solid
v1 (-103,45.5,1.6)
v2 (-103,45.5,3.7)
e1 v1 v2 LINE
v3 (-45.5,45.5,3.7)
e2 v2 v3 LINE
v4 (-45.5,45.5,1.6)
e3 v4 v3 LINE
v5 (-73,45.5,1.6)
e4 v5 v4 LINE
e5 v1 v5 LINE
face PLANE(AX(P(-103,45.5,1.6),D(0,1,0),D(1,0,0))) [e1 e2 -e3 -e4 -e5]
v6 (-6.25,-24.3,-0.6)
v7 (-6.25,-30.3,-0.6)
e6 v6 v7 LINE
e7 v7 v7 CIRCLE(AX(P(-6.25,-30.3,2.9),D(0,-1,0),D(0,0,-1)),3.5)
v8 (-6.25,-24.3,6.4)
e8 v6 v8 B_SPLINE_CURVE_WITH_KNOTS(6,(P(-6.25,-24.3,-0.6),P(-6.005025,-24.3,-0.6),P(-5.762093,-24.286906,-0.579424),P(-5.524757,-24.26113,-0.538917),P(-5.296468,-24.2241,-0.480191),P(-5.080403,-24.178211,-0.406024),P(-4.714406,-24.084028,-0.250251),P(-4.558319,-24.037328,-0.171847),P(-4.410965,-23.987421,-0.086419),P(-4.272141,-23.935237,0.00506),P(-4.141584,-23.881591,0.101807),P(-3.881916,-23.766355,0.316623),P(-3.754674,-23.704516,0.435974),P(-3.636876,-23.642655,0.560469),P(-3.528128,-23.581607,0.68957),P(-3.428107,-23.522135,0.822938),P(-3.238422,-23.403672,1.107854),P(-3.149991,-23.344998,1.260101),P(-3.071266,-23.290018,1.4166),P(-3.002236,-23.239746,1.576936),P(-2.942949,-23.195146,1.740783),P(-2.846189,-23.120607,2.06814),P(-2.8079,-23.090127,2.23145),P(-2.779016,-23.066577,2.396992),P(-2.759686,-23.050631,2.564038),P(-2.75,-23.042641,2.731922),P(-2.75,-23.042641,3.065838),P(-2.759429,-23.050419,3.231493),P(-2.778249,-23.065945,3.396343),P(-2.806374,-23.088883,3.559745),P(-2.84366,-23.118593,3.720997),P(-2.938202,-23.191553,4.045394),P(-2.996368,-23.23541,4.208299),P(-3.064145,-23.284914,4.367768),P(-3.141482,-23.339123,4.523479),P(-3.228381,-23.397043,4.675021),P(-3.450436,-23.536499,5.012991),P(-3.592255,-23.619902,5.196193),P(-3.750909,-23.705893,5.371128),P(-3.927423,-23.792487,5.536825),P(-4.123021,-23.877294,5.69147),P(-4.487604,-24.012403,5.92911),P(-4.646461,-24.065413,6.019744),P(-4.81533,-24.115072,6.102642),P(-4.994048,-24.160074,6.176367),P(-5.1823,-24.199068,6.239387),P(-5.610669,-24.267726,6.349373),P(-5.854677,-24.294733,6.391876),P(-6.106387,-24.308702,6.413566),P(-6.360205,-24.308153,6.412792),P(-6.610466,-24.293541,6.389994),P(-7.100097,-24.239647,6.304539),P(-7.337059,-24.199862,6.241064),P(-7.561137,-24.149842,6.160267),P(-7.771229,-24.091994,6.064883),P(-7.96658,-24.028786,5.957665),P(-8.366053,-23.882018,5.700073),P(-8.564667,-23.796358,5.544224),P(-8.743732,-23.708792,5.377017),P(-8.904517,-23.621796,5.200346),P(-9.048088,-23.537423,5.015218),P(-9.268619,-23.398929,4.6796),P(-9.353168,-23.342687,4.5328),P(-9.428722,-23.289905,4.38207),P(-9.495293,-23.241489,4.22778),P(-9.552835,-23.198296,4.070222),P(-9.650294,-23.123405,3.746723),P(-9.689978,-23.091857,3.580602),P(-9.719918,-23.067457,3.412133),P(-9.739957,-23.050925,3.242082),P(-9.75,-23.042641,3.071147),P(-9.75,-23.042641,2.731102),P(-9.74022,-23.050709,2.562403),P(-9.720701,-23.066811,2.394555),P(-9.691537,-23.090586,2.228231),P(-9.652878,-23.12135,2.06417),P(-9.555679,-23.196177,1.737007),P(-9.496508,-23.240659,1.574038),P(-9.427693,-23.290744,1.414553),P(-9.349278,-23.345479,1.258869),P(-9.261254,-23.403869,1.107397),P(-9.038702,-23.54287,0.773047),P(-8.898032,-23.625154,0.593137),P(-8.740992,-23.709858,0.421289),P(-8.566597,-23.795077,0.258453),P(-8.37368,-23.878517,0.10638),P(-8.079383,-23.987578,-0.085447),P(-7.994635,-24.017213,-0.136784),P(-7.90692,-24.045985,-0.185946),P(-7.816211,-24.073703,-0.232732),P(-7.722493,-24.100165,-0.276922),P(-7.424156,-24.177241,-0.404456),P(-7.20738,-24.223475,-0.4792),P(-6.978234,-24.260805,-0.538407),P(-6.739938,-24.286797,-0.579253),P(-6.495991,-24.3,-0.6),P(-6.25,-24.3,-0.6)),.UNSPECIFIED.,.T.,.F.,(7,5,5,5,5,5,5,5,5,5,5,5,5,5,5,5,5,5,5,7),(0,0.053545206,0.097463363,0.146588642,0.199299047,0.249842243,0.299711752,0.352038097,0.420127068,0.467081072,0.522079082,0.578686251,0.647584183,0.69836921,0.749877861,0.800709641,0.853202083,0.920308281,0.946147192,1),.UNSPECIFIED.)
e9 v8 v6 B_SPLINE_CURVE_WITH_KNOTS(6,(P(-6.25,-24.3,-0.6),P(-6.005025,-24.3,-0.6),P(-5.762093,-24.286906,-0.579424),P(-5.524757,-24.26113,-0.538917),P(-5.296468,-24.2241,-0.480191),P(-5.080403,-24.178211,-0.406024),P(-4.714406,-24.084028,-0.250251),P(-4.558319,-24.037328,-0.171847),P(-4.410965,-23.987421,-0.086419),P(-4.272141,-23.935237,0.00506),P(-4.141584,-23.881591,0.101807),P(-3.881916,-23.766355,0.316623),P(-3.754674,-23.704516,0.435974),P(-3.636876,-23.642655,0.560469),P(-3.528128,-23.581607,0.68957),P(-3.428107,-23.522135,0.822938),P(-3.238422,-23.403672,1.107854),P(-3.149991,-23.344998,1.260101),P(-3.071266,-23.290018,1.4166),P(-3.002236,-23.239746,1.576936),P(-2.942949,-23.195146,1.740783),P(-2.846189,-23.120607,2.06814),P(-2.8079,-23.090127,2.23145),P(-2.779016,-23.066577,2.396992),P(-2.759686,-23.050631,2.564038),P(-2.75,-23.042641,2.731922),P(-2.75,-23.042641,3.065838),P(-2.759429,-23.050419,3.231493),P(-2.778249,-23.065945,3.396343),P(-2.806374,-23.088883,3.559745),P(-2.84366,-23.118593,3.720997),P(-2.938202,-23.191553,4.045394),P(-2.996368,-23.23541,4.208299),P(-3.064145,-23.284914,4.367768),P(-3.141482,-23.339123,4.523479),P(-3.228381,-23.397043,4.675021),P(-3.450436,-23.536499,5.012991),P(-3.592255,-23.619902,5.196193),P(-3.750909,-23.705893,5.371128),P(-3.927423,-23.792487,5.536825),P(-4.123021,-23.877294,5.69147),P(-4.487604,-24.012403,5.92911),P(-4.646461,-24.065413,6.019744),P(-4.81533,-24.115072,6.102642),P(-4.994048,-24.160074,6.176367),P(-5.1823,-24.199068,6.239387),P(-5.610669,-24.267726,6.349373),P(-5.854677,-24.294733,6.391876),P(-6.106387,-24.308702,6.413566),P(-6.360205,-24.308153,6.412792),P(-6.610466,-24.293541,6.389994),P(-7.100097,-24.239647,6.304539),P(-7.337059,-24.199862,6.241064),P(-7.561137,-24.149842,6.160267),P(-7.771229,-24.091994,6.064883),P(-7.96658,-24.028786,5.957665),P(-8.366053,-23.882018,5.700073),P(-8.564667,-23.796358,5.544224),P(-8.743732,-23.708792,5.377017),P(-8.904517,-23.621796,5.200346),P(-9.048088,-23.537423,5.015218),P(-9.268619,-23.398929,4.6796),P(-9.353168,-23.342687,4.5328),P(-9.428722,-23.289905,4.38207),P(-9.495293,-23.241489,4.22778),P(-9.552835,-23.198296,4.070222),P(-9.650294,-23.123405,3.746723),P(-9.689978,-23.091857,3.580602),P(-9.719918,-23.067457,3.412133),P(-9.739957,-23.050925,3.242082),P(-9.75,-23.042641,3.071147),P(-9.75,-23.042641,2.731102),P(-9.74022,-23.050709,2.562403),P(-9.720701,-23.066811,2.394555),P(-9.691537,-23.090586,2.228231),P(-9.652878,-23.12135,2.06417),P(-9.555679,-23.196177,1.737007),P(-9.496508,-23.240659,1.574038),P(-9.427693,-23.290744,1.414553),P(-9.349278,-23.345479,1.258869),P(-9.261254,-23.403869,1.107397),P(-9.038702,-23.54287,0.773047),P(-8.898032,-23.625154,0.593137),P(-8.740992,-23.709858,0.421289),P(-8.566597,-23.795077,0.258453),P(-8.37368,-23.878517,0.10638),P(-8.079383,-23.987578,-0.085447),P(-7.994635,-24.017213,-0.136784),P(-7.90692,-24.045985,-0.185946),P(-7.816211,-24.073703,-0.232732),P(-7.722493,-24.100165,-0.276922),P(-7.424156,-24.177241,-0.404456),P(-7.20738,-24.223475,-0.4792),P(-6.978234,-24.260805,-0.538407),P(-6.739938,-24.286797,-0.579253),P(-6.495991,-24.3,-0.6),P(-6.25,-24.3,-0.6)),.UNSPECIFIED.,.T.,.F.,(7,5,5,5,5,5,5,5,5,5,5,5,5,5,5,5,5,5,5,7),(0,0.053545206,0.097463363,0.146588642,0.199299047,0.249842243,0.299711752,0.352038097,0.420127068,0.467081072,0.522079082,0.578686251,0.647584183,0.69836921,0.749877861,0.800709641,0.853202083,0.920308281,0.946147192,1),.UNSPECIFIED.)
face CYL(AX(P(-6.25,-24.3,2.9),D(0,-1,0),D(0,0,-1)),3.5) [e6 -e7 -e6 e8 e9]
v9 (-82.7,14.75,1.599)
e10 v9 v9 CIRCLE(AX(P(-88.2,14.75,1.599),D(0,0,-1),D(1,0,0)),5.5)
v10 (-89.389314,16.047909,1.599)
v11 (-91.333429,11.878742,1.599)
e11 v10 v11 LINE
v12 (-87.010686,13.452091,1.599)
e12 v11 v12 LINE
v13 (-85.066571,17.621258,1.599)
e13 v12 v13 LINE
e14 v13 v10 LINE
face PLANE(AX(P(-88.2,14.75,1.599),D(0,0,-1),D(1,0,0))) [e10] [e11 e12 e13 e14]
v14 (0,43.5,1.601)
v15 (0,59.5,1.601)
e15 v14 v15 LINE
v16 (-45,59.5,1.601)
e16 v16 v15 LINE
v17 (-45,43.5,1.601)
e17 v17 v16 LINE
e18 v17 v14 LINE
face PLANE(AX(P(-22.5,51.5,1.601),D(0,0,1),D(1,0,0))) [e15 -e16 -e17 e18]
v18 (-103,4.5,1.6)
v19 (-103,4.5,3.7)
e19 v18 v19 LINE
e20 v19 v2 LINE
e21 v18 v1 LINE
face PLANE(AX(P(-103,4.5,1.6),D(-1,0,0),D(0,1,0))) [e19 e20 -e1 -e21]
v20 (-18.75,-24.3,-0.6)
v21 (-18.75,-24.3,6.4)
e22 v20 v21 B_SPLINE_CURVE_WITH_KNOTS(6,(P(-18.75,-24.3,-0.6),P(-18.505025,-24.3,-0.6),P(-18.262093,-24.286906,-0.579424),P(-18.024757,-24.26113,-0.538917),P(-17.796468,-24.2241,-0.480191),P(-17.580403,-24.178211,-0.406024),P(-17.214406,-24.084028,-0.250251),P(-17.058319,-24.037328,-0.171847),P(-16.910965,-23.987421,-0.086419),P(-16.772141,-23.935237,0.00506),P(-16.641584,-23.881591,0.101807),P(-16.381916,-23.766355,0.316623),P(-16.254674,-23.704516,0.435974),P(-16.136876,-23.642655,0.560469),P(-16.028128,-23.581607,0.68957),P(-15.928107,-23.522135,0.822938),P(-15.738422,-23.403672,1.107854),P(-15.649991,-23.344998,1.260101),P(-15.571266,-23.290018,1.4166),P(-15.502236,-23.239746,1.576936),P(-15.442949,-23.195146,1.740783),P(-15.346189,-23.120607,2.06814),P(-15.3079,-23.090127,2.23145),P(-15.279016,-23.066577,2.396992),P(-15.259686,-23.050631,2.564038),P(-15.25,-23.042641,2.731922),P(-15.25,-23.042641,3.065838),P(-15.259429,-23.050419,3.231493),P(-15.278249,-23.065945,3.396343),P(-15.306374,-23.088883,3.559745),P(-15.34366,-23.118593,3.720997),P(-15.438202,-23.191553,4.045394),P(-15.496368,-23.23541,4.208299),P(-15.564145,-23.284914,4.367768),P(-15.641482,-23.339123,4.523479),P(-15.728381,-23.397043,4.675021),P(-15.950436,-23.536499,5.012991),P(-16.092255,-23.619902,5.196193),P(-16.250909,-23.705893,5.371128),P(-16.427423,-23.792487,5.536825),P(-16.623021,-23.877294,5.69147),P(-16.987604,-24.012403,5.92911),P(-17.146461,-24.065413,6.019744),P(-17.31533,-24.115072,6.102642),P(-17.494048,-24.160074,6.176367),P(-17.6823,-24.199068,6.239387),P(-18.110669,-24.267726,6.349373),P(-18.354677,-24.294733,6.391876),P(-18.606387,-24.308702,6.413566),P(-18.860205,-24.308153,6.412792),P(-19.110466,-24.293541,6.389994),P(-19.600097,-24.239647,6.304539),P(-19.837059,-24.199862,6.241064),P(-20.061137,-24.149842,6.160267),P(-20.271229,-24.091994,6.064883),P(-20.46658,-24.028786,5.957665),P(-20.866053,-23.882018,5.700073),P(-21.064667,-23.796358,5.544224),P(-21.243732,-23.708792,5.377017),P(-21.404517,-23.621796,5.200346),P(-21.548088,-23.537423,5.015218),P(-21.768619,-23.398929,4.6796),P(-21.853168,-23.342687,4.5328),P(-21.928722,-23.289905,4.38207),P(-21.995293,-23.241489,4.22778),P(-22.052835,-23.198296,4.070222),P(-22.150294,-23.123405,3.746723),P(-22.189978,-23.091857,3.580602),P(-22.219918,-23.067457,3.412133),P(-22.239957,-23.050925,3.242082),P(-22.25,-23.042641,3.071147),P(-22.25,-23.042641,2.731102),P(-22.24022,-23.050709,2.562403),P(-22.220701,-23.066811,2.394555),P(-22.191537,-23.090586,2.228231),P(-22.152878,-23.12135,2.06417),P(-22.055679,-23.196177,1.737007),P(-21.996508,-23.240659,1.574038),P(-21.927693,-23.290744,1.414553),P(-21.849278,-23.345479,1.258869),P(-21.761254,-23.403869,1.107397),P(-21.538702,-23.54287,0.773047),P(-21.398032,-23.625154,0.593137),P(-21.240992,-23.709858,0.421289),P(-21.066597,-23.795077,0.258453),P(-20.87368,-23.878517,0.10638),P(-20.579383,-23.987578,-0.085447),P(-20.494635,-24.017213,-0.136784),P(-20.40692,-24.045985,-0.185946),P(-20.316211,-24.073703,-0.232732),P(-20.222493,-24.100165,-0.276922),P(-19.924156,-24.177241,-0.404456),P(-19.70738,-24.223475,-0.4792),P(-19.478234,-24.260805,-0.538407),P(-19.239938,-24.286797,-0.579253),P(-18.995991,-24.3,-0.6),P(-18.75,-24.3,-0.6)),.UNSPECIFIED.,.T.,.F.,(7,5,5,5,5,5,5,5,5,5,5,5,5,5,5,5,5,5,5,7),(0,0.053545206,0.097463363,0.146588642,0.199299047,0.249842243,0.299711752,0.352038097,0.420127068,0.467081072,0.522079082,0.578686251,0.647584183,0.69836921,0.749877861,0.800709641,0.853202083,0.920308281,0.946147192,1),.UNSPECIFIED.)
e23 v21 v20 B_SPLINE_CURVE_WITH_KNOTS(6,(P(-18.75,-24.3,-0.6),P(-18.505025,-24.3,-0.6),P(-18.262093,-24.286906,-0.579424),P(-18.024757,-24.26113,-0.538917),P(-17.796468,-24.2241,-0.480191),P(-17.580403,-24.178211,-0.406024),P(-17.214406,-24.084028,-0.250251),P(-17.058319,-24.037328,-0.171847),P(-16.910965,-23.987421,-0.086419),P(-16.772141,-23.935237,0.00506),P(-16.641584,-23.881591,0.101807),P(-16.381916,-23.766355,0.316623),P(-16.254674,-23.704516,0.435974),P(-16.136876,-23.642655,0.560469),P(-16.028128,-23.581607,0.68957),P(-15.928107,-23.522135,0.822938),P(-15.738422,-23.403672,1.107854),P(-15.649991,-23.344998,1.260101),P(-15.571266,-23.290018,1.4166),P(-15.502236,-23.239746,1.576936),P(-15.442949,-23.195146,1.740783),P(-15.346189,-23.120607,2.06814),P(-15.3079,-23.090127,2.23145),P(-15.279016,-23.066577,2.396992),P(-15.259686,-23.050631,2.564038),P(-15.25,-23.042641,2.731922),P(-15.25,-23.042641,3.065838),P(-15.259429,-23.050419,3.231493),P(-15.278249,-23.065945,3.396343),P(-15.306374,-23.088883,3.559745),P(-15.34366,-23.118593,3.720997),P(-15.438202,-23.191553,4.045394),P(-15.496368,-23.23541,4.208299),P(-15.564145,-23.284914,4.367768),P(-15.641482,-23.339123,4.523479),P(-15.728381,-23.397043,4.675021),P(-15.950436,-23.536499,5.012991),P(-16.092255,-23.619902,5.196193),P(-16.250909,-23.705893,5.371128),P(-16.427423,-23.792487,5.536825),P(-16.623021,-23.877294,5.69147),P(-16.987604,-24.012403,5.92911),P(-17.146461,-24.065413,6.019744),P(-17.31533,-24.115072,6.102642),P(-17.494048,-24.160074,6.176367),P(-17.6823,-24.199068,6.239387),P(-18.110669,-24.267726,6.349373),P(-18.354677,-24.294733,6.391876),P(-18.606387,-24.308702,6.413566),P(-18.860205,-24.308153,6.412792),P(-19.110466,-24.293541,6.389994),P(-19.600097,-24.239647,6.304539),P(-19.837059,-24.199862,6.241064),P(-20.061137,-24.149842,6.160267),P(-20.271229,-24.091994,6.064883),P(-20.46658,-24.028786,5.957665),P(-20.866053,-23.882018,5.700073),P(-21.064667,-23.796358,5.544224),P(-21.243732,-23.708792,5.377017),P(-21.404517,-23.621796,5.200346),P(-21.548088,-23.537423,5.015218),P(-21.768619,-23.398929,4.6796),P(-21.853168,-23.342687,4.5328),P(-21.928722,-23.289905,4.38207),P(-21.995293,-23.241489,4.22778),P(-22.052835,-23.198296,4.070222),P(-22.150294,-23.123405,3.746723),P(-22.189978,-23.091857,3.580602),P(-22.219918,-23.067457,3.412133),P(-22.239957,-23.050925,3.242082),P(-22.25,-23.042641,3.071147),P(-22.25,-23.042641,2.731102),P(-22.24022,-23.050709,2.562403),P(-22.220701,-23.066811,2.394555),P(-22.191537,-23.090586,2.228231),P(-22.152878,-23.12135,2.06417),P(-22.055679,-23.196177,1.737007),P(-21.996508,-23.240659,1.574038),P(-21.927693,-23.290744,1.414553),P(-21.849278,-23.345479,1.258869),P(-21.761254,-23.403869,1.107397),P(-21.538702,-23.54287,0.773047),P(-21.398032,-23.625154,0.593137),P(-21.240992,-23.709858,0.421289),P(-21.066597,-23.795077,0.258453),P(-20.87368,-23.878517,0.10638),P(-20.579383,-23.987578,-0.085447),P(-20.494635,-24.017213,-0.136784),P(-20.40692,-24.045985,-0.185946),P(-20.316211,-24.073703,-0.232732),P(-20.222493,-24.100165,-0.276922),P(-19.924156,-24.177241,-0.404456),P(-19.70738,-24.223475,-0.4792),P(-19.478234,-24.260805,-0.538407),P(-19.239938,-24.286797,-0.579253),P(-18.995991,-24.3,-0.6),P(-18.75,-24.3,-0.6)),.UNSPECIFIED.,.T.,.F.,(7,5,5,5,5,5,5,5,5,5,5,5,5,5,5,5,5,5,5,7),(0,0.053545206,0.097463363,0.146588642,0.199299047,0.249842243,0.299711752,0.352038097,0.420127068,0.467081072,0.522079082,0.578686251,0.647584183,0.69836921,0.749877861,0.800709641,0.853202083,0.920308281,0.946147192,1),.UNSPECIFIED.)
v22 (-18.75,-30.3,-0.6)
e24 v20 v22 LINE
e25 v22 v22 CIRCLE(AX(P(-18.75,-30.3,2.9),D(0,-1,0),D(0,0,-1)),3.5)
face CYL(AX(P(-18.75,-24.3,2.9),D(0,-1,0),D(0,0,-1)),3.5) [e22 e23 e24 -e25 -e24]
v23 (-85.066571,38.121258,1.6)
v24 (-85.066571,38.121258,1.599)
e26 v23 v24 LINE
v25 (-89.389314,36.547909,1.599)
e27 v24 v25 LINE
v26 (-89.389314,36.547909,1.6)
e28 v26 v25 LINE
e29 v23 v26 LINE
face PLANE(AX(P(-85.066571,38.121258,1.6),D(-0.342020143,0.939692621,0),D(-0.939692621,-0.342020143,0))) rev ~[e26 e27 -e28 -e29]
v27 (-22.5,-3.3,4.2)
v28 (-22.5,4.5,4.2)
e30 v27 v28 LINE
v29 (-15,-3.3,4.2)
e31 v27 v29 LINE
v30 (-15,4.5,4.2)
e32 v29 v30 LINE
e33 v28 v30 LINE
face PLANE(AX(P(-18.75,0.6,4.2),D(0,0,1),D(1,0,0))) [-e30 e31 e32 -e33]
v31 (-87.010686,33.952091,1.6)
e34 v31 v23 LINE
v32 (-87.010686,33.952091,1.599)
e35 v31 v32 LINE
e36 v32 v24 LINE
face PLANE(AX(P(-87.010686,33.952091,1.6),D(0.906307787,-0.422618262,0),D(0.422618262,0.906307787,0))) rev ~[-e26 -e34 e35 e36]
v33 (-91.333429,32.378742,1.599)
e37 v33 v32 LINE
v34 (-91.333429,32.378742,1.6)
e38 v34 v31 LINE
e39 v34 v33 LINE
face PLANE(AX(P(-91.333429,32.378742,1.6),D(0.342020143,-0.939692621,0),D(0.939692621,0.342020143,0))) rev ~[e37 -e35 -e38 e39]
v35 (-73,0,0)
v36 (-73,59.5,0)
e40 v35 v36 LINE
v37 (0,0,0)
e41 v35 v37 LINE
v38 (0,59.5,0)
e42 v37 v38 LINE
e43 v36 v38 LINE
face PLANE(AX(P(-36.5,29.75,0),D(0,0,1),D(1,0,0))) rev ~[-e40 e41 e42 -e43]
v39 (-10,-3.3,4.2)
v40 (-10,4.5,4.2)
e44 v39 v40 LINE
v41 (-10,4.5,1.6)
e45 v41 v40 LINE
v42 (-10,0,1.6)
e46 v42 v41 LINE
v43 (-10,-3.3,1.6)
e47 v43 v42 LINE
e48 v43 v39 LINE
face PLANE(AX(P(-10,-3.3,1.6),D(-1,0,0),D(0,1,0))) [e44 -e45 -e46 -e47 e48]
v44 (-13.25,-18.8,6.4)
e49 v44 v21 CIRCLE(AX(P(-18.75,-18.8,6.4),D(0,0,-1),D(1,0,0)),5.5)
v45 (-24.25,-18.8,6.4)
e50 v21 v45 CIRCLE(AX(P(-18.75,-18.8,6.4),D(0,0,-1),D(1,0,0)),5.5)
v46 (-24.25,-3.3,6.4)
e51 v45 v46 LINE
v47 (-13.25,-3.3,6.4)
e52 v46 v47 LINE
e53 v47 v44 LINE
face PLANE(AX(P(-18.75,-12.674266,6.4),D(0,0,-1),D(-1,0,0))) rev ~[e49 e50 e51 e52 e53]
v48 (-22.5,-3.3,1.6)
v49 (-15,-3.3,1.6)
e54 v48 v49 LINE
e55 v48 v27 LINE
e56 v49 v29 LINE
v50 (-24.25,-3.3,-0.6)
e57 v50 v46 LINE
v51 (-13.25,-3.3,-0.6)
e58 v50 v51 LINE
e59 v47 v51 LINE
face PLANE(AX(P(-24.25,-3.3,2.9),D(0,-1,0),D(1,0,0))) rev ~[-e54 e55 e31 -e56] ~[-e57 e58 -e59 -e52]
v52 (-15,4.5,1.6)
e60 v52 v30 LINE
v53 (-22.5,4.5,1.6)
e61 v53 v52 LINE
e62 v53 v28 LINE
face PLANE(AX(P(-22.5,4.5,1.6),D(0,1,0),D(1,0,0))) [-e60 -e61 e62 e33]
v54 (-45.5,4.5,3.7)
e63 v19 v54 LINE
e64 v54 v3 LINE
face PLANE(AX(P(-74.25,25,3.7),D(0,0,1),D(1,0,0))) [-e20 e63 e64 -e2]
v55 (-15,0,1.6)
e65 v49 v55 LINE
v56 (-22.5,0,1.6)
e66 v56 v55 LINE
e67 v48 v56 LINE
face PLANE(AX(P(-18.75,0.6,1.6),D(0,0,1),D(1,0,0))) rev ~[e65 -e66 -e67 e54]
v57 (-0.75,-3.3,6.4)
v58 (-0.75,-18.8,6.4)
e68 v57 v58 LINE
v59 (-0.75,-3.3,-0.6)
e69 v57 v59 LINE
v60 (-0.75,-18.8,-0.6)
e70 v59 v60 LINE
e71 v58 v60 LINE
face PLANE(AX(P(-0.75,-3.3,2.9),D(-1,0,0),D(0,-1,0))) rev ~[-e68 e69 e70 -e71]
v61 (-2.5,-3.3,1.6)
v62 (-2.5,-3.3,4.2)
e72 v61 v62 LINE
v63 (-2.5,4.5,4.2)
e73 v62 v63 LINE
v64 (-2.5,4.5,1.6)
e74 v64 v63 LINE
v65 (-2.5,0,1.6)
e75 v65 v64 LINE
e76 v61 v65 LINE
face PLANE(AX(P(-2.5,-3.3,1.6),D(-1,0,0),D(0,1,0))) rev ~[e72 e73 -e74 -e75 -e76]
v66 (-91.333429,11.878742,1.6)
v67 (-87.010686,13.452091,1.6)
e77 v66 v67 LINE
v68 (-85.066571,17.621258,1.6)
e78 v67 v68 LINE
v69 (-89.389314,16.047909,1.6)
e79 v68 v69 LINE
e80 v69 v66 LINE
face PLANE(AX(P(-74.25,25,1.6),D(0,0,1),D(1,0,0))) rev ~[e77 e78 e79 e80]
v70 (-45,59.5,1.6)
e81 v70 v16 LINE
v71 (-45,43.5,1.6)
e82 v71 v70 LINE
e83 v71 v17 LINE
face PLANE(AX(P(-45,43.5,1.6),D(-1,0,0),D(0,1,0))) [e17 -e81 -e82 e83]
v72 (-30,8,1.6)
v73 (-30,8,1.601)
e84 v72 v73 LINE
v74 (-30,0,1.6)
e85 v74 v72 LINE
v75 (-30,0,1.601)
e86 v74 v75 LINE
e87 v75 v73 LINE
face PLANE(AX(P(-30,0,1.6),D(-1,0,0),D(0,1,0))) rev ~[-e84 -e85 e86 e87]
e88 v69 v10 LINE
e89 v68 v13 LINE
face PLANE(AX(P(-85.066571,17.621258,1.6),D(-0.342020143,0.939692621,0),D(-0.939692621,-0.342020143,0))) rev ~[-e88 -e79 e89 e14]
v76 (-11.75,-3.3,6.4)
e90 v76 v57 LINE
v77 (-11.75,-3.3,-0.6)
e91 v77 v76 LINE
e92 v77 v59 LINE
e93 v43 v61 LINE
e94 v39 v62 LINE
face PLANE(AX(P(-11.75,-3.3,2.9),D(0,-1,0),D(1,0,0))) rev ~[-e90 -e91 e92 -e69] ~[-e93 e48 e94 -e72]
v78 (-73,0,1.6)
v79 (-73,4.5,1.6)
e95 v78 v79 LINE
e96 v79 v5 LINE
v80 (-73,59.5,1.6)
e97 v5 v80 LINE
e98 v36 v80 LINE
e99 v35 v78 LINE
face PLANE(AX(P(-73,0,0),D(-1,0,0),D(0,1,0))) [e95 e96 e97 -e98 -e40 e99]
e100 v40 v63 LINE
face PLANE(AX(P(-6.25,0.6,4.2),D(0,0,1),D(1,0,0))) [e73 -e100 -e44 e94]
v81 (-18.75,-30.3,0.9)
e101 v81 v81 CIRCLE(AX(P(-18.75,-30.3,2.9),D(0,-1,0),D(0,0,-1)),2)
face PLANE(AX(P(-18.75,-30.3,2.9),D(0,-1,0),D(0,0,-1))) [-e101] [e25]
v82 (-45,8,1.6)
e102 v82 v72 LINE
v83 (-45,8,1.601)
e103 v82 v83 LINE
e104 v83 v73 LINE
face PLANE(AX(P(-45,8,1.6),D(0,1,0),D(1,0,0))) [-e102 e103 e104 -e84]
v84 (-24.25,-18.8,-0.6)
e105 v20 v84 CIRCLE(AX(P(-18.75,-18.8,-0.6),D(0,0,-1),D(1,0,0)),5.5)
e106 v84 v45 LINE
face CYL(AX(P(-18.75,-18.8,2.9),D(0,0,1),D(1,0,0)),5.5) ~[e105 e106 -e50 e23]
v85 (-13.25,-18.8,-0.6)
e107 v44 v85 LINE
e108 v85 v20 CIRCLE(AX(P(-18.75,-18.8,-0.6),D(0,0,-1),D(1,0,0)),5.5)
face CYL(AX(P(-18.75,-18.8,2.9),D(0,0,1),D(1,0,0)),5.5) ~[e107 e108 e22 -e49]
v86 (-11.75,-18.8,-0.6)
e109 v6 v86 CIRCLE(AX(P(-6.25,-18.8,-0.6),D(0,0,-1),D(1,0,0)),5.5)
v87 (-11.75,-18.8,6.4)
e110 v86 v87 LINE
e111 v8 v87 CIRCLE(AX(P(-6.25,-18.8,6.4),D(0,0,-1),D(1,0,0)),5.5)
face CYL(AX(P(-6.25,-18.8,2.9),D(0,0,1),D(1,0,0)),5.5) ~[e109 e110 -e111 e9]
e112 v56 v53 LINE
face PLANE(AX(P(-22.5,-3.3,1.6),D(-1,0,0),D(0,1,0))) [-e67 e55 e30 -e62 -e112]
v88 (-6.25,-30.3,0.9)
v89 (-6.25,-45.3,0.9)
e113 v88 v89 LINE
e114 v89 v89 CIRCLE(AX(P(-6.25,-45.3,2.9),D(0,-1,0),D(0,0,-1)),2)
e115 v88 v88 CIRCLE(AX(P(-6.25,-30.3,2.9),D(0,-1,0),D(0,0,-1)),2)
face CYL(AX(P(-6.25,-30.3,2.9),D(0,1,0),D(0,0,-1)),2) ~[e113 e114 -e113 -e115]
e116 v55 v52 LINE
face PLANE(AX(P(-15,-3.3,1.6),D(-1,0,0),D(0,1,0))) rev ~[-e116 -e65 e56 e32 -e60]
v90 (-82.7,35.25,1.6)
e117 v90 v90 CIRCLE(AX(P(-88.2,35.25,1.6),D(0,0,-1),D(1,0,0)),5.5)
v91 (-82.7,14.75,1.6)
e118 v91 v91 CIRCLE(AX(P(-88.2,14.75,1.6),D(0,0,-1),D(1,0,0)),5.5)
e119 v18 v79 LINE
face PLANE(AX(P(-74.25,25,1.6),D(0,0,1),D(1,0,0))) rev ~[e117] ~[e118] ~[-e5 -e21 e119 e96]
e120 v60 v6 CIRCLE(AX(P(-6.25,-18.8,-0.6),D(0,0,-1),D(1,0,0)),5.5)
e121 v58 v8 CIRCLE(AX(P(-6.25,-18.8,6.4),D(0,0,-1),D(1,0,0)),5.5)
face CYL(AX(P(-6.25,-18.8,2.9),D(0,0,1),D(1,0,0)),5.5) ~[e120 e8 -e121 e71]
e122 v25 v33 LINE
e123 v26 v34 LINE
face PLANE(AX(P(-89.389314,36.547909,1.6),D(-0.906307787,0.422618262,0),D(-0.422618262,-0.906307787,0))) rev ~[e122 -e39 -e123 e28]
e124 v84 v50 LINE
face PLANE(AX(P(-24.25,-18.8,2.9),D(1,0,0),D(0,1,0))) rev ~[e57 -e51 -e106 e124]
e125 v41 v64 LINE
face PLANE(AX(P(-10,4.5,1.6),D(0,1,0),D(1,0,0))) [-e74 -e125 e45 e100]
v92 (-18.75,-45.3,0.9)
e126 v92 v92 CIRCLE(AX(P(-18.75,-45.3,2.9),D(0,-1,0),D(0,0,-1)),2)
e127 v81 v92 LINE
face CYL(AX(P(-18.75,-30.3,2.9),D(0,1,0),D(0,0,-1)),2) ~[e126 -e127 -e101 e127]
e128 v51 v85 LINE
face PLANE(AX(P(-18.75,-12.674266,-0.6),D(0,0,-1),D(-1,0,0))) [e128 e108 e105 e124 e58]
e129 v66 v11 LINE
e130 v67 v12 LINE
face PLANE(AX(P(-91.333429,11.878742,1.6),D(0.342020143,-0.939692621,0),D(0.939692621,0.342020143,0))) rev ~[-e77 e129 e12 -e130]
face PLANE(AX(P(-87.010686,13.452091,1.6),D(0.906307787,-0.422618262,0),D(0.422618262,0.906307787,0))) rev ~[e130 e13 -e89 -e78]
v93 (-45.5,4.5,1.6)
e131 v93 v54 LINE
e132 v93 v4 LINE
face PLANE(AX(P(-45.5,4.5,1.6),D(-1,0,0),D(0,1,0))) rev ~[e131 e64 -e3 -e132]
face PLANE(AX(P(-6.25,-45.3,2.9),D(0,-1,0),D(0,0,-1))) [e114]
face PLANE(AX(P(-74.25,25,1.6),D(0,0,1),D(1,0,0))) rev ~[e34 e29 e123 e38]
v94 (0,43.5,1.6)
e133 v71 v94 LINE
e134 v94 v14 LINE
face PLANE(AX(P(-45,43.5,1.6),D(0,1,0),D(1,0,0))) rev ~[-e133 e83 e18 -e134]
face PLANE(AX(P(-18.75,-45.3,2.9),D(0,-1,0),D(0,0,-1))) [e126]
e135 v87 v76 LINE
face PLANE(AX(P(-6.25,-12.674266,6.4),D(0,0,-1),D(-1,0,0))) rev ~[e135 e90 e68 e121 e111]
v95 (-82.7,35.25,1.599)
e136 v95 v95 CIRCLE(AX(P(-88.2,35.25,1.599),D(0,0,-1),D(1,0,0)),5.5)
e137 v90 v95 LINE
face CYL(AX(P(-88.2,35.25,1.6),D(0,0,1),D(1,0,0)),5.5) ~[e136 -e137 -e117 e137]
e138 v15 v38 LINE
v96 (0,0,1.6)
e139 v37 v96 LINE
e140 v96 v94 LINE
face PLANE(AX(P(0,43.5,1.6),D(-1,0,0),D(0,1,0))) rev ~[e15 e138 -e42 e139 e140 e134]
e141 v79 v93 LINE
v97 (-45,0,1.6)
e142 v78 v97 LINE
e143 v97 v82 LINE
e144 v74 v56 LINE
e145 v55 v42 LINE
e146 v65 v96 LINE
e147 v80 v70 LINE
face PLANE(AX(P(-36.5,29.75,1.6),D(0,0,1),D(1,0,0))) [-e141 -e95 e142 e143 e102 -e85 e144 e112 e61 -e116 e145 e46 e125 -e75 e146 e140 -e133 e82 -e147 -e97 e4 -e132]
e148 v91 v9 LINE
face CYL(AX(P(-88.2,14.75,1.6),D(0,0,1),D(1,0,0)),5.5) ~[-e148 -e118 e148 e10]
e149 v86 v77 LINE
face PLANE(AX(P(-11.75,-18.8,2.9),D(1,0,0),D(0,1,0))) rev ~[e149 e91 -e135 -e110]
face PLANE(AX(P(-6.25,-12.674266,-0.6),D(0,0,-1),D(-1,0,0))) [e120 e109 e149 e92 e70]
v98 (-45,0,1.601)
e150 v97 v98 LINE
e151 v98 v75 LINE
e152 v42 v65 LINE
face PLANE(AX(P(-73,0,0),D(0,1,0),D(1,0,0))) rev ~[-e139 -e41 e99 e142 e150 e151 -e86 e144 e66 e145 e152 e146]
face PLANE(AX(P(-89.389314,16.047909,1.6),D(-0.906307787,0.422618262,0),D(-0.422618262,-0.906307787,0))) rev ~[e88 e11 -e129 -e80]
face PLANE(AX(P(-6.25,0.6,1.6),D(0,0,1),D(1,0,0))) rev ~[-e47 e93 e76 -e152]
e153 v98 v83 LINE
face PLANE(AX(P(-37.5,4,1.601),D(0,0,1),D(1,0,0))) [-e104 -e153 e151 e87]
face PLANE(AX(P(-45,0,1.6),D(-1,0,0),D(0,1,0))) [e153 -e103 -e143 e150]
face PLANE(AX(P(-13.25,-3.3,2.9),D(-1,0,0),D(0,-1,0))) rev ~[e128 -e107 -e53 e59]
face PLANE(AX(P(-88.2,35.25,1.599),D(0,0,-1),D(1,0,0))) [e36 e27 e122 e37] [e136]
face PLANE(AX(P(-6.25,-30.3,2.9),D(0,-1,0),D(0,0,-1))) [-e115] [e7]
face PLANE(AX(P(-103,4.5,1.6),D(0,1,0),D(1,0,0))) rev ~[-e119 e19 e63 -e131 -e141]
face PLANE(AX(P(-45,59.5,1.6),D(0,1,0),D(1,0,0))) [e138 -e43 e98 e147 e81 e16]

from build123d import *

# Parameters (mm, degrees)
SKETCH1_W                = 73
SKETCH1_H                = 59.5
GREEN_PCB_DEPTH          = 1.6
SKETCH2_W                = 57.5
SKETCH2_H                = 41
BLUE_PCB_DEPTH           = 2.1
SKETCH3_W                = 45
SKETCH3_H                = 16
SKETCH3_W_2              = 15
SKETCH3_H_2              = 8
CLAMP_AREA_DEPTH         = 0.001
SKETCH4_W                = 7.5
SKETCH4_H                = 7.8
USB_PORT_DEPTH           = 2.6
USB_BODY_DEPTH           = 3.5
SKETCH7_R                = 3.5
USB_TENSION_RELIEF_DEPTH = 6
SKETCH8_R                = 2
USB_CORD_DEPTH           = 15
SKETCH9_R                = 5.5
MONA_LISA_ANTENNA_DEPTH  = 0.001
LPATTERN1_COUNT          = 2
LPATTERN1_PITCH          = 20.5
LPATTERN2_COUNT          = 2
LPATTERN2_PITCH          = 12.5


with BuildPart() as part:
    # Sketch1 → Green PCB (new body)
    with BuildSketch(Plane.XY):
        with Locations((-36.5, 29.75)):
            Rectangle(SKETCH1_W, SKETCH1_H)
    extrude(amount=GREEN_PCB_DEPTH)

    # Sketch2 → Blue PCB (add)
    with BuildSketch(Plane.XY.offset(1.6)):
        with Locations((-74.25, 25)):
            Rectangle(SKETCH2_W, SKETCH2_H)
    extrude(amount=BLUE_PCB_DEPTH)

    # Sketch3 → Clamp Area (add)
    with BuildSketch(Plane.XY.offset(1.6)):
        with Locations((-22.5, 51.5)):
            Rectangle(SKETCH3_W, SKETCH3_H)
        with Locations((-37.5, 4)):
            Rectangle(SKETCH3_W_2, SKETCH3_H_2)
    extrude(amount=CLAMP_AREA_DEPTH)

    # Sketch4 → USB Port (add)
    with BuildSketch(Plane.XY.offset(1.6)):
        with Locations((-6.25, 0.6)):
            Rectangle(SKETCH4_W, SKETCH4_H)
    usb_port = extrude(amount=USB_PORT_DEPTH)

    # Sketch5 → USB Body (add, symmetric)
    with BuildSketch(Plane.XY.offset(2.9)):
        with BuildLine():
            Line((-11.75, -3.3), (-0.75, -3.3))
            Line((-0.75, -3.3), (-0.75, -18.8))
            ThreePointArc((-0.75, -18.8), (-6.25, -24.3), (-11.75, -18.8))
            Line((-11.75, -18.8), (-11.75, -3.3))
        make_face()
    usb_body = extrude(amount=USB_BODY_DEPTH, both=True)

    # Sketch7 → USB Tension Relief (add, symmetric)
    with BuildSketch(Plane(origin=(0, -24.3, 0), x_dir=(-1, 0, 0), z_dir=(0, -1, 0))):
        with Locations(Location((6.25, -2.9, 0), (0, 0, 90))):
            Circle(SKETCH7_R)
    usb_tension_relief = extrude(amount=USB_TENSION_RELIEF_DEPTH, both=True)

    # Sketch8 → USB Cord (add)
    with BuildSketch(Plane.XZ.offset(30.3)):
        with Locations(Location((-6.25, 2.9, 0), (0, 0, 270))):
            Circle(SKETCH8_R)
    usb_cord = extrude(amount=USB_CORD_DEPTH)

    # Sketch9 → Mona Lisa Antenna (add)
    with BuildSketch(Plane(origin=(0, 0, 1.6), x_dir=(-1, 0, 0), z_dir=(0, 0, -1))):
        with Locations(Location((88.2, 35.25, 0), (0, 0, 180))):
            Circle(SKETCH9_R)
        Polygon((85.066571319, 38.121258382), (89.389314163, 36.547908657), (91.333428681, 32.378741618), (87.010685837, 33.952091343), align=None, mode=Mode.SUBTRACT)
    mona_lisa_antenna = extrude(amount=MONA_LISA_ANTENNA_DEPTH)

    # LPattern1: Mona Lisa Antenna ×2
    with Locations(*[(0, -i * LPATTERN1_PITCH, 0) for i in range(1, LPATTERN1_COUNT)]):
        add(mona_lisa_antenna)

    # LPattern2: USB Port, USB Body, USB Tension Relief, USB Cord ×2
    with Locations(*[(-i * LPATTERN2_PITCH, 0, 0) for i in range(1, LPATTERN2_COUNT)]):
        add(usb_port)
        add(usb_body)
        add(usb_tension_relief)
        add(usb_cord)


solid = part.part
